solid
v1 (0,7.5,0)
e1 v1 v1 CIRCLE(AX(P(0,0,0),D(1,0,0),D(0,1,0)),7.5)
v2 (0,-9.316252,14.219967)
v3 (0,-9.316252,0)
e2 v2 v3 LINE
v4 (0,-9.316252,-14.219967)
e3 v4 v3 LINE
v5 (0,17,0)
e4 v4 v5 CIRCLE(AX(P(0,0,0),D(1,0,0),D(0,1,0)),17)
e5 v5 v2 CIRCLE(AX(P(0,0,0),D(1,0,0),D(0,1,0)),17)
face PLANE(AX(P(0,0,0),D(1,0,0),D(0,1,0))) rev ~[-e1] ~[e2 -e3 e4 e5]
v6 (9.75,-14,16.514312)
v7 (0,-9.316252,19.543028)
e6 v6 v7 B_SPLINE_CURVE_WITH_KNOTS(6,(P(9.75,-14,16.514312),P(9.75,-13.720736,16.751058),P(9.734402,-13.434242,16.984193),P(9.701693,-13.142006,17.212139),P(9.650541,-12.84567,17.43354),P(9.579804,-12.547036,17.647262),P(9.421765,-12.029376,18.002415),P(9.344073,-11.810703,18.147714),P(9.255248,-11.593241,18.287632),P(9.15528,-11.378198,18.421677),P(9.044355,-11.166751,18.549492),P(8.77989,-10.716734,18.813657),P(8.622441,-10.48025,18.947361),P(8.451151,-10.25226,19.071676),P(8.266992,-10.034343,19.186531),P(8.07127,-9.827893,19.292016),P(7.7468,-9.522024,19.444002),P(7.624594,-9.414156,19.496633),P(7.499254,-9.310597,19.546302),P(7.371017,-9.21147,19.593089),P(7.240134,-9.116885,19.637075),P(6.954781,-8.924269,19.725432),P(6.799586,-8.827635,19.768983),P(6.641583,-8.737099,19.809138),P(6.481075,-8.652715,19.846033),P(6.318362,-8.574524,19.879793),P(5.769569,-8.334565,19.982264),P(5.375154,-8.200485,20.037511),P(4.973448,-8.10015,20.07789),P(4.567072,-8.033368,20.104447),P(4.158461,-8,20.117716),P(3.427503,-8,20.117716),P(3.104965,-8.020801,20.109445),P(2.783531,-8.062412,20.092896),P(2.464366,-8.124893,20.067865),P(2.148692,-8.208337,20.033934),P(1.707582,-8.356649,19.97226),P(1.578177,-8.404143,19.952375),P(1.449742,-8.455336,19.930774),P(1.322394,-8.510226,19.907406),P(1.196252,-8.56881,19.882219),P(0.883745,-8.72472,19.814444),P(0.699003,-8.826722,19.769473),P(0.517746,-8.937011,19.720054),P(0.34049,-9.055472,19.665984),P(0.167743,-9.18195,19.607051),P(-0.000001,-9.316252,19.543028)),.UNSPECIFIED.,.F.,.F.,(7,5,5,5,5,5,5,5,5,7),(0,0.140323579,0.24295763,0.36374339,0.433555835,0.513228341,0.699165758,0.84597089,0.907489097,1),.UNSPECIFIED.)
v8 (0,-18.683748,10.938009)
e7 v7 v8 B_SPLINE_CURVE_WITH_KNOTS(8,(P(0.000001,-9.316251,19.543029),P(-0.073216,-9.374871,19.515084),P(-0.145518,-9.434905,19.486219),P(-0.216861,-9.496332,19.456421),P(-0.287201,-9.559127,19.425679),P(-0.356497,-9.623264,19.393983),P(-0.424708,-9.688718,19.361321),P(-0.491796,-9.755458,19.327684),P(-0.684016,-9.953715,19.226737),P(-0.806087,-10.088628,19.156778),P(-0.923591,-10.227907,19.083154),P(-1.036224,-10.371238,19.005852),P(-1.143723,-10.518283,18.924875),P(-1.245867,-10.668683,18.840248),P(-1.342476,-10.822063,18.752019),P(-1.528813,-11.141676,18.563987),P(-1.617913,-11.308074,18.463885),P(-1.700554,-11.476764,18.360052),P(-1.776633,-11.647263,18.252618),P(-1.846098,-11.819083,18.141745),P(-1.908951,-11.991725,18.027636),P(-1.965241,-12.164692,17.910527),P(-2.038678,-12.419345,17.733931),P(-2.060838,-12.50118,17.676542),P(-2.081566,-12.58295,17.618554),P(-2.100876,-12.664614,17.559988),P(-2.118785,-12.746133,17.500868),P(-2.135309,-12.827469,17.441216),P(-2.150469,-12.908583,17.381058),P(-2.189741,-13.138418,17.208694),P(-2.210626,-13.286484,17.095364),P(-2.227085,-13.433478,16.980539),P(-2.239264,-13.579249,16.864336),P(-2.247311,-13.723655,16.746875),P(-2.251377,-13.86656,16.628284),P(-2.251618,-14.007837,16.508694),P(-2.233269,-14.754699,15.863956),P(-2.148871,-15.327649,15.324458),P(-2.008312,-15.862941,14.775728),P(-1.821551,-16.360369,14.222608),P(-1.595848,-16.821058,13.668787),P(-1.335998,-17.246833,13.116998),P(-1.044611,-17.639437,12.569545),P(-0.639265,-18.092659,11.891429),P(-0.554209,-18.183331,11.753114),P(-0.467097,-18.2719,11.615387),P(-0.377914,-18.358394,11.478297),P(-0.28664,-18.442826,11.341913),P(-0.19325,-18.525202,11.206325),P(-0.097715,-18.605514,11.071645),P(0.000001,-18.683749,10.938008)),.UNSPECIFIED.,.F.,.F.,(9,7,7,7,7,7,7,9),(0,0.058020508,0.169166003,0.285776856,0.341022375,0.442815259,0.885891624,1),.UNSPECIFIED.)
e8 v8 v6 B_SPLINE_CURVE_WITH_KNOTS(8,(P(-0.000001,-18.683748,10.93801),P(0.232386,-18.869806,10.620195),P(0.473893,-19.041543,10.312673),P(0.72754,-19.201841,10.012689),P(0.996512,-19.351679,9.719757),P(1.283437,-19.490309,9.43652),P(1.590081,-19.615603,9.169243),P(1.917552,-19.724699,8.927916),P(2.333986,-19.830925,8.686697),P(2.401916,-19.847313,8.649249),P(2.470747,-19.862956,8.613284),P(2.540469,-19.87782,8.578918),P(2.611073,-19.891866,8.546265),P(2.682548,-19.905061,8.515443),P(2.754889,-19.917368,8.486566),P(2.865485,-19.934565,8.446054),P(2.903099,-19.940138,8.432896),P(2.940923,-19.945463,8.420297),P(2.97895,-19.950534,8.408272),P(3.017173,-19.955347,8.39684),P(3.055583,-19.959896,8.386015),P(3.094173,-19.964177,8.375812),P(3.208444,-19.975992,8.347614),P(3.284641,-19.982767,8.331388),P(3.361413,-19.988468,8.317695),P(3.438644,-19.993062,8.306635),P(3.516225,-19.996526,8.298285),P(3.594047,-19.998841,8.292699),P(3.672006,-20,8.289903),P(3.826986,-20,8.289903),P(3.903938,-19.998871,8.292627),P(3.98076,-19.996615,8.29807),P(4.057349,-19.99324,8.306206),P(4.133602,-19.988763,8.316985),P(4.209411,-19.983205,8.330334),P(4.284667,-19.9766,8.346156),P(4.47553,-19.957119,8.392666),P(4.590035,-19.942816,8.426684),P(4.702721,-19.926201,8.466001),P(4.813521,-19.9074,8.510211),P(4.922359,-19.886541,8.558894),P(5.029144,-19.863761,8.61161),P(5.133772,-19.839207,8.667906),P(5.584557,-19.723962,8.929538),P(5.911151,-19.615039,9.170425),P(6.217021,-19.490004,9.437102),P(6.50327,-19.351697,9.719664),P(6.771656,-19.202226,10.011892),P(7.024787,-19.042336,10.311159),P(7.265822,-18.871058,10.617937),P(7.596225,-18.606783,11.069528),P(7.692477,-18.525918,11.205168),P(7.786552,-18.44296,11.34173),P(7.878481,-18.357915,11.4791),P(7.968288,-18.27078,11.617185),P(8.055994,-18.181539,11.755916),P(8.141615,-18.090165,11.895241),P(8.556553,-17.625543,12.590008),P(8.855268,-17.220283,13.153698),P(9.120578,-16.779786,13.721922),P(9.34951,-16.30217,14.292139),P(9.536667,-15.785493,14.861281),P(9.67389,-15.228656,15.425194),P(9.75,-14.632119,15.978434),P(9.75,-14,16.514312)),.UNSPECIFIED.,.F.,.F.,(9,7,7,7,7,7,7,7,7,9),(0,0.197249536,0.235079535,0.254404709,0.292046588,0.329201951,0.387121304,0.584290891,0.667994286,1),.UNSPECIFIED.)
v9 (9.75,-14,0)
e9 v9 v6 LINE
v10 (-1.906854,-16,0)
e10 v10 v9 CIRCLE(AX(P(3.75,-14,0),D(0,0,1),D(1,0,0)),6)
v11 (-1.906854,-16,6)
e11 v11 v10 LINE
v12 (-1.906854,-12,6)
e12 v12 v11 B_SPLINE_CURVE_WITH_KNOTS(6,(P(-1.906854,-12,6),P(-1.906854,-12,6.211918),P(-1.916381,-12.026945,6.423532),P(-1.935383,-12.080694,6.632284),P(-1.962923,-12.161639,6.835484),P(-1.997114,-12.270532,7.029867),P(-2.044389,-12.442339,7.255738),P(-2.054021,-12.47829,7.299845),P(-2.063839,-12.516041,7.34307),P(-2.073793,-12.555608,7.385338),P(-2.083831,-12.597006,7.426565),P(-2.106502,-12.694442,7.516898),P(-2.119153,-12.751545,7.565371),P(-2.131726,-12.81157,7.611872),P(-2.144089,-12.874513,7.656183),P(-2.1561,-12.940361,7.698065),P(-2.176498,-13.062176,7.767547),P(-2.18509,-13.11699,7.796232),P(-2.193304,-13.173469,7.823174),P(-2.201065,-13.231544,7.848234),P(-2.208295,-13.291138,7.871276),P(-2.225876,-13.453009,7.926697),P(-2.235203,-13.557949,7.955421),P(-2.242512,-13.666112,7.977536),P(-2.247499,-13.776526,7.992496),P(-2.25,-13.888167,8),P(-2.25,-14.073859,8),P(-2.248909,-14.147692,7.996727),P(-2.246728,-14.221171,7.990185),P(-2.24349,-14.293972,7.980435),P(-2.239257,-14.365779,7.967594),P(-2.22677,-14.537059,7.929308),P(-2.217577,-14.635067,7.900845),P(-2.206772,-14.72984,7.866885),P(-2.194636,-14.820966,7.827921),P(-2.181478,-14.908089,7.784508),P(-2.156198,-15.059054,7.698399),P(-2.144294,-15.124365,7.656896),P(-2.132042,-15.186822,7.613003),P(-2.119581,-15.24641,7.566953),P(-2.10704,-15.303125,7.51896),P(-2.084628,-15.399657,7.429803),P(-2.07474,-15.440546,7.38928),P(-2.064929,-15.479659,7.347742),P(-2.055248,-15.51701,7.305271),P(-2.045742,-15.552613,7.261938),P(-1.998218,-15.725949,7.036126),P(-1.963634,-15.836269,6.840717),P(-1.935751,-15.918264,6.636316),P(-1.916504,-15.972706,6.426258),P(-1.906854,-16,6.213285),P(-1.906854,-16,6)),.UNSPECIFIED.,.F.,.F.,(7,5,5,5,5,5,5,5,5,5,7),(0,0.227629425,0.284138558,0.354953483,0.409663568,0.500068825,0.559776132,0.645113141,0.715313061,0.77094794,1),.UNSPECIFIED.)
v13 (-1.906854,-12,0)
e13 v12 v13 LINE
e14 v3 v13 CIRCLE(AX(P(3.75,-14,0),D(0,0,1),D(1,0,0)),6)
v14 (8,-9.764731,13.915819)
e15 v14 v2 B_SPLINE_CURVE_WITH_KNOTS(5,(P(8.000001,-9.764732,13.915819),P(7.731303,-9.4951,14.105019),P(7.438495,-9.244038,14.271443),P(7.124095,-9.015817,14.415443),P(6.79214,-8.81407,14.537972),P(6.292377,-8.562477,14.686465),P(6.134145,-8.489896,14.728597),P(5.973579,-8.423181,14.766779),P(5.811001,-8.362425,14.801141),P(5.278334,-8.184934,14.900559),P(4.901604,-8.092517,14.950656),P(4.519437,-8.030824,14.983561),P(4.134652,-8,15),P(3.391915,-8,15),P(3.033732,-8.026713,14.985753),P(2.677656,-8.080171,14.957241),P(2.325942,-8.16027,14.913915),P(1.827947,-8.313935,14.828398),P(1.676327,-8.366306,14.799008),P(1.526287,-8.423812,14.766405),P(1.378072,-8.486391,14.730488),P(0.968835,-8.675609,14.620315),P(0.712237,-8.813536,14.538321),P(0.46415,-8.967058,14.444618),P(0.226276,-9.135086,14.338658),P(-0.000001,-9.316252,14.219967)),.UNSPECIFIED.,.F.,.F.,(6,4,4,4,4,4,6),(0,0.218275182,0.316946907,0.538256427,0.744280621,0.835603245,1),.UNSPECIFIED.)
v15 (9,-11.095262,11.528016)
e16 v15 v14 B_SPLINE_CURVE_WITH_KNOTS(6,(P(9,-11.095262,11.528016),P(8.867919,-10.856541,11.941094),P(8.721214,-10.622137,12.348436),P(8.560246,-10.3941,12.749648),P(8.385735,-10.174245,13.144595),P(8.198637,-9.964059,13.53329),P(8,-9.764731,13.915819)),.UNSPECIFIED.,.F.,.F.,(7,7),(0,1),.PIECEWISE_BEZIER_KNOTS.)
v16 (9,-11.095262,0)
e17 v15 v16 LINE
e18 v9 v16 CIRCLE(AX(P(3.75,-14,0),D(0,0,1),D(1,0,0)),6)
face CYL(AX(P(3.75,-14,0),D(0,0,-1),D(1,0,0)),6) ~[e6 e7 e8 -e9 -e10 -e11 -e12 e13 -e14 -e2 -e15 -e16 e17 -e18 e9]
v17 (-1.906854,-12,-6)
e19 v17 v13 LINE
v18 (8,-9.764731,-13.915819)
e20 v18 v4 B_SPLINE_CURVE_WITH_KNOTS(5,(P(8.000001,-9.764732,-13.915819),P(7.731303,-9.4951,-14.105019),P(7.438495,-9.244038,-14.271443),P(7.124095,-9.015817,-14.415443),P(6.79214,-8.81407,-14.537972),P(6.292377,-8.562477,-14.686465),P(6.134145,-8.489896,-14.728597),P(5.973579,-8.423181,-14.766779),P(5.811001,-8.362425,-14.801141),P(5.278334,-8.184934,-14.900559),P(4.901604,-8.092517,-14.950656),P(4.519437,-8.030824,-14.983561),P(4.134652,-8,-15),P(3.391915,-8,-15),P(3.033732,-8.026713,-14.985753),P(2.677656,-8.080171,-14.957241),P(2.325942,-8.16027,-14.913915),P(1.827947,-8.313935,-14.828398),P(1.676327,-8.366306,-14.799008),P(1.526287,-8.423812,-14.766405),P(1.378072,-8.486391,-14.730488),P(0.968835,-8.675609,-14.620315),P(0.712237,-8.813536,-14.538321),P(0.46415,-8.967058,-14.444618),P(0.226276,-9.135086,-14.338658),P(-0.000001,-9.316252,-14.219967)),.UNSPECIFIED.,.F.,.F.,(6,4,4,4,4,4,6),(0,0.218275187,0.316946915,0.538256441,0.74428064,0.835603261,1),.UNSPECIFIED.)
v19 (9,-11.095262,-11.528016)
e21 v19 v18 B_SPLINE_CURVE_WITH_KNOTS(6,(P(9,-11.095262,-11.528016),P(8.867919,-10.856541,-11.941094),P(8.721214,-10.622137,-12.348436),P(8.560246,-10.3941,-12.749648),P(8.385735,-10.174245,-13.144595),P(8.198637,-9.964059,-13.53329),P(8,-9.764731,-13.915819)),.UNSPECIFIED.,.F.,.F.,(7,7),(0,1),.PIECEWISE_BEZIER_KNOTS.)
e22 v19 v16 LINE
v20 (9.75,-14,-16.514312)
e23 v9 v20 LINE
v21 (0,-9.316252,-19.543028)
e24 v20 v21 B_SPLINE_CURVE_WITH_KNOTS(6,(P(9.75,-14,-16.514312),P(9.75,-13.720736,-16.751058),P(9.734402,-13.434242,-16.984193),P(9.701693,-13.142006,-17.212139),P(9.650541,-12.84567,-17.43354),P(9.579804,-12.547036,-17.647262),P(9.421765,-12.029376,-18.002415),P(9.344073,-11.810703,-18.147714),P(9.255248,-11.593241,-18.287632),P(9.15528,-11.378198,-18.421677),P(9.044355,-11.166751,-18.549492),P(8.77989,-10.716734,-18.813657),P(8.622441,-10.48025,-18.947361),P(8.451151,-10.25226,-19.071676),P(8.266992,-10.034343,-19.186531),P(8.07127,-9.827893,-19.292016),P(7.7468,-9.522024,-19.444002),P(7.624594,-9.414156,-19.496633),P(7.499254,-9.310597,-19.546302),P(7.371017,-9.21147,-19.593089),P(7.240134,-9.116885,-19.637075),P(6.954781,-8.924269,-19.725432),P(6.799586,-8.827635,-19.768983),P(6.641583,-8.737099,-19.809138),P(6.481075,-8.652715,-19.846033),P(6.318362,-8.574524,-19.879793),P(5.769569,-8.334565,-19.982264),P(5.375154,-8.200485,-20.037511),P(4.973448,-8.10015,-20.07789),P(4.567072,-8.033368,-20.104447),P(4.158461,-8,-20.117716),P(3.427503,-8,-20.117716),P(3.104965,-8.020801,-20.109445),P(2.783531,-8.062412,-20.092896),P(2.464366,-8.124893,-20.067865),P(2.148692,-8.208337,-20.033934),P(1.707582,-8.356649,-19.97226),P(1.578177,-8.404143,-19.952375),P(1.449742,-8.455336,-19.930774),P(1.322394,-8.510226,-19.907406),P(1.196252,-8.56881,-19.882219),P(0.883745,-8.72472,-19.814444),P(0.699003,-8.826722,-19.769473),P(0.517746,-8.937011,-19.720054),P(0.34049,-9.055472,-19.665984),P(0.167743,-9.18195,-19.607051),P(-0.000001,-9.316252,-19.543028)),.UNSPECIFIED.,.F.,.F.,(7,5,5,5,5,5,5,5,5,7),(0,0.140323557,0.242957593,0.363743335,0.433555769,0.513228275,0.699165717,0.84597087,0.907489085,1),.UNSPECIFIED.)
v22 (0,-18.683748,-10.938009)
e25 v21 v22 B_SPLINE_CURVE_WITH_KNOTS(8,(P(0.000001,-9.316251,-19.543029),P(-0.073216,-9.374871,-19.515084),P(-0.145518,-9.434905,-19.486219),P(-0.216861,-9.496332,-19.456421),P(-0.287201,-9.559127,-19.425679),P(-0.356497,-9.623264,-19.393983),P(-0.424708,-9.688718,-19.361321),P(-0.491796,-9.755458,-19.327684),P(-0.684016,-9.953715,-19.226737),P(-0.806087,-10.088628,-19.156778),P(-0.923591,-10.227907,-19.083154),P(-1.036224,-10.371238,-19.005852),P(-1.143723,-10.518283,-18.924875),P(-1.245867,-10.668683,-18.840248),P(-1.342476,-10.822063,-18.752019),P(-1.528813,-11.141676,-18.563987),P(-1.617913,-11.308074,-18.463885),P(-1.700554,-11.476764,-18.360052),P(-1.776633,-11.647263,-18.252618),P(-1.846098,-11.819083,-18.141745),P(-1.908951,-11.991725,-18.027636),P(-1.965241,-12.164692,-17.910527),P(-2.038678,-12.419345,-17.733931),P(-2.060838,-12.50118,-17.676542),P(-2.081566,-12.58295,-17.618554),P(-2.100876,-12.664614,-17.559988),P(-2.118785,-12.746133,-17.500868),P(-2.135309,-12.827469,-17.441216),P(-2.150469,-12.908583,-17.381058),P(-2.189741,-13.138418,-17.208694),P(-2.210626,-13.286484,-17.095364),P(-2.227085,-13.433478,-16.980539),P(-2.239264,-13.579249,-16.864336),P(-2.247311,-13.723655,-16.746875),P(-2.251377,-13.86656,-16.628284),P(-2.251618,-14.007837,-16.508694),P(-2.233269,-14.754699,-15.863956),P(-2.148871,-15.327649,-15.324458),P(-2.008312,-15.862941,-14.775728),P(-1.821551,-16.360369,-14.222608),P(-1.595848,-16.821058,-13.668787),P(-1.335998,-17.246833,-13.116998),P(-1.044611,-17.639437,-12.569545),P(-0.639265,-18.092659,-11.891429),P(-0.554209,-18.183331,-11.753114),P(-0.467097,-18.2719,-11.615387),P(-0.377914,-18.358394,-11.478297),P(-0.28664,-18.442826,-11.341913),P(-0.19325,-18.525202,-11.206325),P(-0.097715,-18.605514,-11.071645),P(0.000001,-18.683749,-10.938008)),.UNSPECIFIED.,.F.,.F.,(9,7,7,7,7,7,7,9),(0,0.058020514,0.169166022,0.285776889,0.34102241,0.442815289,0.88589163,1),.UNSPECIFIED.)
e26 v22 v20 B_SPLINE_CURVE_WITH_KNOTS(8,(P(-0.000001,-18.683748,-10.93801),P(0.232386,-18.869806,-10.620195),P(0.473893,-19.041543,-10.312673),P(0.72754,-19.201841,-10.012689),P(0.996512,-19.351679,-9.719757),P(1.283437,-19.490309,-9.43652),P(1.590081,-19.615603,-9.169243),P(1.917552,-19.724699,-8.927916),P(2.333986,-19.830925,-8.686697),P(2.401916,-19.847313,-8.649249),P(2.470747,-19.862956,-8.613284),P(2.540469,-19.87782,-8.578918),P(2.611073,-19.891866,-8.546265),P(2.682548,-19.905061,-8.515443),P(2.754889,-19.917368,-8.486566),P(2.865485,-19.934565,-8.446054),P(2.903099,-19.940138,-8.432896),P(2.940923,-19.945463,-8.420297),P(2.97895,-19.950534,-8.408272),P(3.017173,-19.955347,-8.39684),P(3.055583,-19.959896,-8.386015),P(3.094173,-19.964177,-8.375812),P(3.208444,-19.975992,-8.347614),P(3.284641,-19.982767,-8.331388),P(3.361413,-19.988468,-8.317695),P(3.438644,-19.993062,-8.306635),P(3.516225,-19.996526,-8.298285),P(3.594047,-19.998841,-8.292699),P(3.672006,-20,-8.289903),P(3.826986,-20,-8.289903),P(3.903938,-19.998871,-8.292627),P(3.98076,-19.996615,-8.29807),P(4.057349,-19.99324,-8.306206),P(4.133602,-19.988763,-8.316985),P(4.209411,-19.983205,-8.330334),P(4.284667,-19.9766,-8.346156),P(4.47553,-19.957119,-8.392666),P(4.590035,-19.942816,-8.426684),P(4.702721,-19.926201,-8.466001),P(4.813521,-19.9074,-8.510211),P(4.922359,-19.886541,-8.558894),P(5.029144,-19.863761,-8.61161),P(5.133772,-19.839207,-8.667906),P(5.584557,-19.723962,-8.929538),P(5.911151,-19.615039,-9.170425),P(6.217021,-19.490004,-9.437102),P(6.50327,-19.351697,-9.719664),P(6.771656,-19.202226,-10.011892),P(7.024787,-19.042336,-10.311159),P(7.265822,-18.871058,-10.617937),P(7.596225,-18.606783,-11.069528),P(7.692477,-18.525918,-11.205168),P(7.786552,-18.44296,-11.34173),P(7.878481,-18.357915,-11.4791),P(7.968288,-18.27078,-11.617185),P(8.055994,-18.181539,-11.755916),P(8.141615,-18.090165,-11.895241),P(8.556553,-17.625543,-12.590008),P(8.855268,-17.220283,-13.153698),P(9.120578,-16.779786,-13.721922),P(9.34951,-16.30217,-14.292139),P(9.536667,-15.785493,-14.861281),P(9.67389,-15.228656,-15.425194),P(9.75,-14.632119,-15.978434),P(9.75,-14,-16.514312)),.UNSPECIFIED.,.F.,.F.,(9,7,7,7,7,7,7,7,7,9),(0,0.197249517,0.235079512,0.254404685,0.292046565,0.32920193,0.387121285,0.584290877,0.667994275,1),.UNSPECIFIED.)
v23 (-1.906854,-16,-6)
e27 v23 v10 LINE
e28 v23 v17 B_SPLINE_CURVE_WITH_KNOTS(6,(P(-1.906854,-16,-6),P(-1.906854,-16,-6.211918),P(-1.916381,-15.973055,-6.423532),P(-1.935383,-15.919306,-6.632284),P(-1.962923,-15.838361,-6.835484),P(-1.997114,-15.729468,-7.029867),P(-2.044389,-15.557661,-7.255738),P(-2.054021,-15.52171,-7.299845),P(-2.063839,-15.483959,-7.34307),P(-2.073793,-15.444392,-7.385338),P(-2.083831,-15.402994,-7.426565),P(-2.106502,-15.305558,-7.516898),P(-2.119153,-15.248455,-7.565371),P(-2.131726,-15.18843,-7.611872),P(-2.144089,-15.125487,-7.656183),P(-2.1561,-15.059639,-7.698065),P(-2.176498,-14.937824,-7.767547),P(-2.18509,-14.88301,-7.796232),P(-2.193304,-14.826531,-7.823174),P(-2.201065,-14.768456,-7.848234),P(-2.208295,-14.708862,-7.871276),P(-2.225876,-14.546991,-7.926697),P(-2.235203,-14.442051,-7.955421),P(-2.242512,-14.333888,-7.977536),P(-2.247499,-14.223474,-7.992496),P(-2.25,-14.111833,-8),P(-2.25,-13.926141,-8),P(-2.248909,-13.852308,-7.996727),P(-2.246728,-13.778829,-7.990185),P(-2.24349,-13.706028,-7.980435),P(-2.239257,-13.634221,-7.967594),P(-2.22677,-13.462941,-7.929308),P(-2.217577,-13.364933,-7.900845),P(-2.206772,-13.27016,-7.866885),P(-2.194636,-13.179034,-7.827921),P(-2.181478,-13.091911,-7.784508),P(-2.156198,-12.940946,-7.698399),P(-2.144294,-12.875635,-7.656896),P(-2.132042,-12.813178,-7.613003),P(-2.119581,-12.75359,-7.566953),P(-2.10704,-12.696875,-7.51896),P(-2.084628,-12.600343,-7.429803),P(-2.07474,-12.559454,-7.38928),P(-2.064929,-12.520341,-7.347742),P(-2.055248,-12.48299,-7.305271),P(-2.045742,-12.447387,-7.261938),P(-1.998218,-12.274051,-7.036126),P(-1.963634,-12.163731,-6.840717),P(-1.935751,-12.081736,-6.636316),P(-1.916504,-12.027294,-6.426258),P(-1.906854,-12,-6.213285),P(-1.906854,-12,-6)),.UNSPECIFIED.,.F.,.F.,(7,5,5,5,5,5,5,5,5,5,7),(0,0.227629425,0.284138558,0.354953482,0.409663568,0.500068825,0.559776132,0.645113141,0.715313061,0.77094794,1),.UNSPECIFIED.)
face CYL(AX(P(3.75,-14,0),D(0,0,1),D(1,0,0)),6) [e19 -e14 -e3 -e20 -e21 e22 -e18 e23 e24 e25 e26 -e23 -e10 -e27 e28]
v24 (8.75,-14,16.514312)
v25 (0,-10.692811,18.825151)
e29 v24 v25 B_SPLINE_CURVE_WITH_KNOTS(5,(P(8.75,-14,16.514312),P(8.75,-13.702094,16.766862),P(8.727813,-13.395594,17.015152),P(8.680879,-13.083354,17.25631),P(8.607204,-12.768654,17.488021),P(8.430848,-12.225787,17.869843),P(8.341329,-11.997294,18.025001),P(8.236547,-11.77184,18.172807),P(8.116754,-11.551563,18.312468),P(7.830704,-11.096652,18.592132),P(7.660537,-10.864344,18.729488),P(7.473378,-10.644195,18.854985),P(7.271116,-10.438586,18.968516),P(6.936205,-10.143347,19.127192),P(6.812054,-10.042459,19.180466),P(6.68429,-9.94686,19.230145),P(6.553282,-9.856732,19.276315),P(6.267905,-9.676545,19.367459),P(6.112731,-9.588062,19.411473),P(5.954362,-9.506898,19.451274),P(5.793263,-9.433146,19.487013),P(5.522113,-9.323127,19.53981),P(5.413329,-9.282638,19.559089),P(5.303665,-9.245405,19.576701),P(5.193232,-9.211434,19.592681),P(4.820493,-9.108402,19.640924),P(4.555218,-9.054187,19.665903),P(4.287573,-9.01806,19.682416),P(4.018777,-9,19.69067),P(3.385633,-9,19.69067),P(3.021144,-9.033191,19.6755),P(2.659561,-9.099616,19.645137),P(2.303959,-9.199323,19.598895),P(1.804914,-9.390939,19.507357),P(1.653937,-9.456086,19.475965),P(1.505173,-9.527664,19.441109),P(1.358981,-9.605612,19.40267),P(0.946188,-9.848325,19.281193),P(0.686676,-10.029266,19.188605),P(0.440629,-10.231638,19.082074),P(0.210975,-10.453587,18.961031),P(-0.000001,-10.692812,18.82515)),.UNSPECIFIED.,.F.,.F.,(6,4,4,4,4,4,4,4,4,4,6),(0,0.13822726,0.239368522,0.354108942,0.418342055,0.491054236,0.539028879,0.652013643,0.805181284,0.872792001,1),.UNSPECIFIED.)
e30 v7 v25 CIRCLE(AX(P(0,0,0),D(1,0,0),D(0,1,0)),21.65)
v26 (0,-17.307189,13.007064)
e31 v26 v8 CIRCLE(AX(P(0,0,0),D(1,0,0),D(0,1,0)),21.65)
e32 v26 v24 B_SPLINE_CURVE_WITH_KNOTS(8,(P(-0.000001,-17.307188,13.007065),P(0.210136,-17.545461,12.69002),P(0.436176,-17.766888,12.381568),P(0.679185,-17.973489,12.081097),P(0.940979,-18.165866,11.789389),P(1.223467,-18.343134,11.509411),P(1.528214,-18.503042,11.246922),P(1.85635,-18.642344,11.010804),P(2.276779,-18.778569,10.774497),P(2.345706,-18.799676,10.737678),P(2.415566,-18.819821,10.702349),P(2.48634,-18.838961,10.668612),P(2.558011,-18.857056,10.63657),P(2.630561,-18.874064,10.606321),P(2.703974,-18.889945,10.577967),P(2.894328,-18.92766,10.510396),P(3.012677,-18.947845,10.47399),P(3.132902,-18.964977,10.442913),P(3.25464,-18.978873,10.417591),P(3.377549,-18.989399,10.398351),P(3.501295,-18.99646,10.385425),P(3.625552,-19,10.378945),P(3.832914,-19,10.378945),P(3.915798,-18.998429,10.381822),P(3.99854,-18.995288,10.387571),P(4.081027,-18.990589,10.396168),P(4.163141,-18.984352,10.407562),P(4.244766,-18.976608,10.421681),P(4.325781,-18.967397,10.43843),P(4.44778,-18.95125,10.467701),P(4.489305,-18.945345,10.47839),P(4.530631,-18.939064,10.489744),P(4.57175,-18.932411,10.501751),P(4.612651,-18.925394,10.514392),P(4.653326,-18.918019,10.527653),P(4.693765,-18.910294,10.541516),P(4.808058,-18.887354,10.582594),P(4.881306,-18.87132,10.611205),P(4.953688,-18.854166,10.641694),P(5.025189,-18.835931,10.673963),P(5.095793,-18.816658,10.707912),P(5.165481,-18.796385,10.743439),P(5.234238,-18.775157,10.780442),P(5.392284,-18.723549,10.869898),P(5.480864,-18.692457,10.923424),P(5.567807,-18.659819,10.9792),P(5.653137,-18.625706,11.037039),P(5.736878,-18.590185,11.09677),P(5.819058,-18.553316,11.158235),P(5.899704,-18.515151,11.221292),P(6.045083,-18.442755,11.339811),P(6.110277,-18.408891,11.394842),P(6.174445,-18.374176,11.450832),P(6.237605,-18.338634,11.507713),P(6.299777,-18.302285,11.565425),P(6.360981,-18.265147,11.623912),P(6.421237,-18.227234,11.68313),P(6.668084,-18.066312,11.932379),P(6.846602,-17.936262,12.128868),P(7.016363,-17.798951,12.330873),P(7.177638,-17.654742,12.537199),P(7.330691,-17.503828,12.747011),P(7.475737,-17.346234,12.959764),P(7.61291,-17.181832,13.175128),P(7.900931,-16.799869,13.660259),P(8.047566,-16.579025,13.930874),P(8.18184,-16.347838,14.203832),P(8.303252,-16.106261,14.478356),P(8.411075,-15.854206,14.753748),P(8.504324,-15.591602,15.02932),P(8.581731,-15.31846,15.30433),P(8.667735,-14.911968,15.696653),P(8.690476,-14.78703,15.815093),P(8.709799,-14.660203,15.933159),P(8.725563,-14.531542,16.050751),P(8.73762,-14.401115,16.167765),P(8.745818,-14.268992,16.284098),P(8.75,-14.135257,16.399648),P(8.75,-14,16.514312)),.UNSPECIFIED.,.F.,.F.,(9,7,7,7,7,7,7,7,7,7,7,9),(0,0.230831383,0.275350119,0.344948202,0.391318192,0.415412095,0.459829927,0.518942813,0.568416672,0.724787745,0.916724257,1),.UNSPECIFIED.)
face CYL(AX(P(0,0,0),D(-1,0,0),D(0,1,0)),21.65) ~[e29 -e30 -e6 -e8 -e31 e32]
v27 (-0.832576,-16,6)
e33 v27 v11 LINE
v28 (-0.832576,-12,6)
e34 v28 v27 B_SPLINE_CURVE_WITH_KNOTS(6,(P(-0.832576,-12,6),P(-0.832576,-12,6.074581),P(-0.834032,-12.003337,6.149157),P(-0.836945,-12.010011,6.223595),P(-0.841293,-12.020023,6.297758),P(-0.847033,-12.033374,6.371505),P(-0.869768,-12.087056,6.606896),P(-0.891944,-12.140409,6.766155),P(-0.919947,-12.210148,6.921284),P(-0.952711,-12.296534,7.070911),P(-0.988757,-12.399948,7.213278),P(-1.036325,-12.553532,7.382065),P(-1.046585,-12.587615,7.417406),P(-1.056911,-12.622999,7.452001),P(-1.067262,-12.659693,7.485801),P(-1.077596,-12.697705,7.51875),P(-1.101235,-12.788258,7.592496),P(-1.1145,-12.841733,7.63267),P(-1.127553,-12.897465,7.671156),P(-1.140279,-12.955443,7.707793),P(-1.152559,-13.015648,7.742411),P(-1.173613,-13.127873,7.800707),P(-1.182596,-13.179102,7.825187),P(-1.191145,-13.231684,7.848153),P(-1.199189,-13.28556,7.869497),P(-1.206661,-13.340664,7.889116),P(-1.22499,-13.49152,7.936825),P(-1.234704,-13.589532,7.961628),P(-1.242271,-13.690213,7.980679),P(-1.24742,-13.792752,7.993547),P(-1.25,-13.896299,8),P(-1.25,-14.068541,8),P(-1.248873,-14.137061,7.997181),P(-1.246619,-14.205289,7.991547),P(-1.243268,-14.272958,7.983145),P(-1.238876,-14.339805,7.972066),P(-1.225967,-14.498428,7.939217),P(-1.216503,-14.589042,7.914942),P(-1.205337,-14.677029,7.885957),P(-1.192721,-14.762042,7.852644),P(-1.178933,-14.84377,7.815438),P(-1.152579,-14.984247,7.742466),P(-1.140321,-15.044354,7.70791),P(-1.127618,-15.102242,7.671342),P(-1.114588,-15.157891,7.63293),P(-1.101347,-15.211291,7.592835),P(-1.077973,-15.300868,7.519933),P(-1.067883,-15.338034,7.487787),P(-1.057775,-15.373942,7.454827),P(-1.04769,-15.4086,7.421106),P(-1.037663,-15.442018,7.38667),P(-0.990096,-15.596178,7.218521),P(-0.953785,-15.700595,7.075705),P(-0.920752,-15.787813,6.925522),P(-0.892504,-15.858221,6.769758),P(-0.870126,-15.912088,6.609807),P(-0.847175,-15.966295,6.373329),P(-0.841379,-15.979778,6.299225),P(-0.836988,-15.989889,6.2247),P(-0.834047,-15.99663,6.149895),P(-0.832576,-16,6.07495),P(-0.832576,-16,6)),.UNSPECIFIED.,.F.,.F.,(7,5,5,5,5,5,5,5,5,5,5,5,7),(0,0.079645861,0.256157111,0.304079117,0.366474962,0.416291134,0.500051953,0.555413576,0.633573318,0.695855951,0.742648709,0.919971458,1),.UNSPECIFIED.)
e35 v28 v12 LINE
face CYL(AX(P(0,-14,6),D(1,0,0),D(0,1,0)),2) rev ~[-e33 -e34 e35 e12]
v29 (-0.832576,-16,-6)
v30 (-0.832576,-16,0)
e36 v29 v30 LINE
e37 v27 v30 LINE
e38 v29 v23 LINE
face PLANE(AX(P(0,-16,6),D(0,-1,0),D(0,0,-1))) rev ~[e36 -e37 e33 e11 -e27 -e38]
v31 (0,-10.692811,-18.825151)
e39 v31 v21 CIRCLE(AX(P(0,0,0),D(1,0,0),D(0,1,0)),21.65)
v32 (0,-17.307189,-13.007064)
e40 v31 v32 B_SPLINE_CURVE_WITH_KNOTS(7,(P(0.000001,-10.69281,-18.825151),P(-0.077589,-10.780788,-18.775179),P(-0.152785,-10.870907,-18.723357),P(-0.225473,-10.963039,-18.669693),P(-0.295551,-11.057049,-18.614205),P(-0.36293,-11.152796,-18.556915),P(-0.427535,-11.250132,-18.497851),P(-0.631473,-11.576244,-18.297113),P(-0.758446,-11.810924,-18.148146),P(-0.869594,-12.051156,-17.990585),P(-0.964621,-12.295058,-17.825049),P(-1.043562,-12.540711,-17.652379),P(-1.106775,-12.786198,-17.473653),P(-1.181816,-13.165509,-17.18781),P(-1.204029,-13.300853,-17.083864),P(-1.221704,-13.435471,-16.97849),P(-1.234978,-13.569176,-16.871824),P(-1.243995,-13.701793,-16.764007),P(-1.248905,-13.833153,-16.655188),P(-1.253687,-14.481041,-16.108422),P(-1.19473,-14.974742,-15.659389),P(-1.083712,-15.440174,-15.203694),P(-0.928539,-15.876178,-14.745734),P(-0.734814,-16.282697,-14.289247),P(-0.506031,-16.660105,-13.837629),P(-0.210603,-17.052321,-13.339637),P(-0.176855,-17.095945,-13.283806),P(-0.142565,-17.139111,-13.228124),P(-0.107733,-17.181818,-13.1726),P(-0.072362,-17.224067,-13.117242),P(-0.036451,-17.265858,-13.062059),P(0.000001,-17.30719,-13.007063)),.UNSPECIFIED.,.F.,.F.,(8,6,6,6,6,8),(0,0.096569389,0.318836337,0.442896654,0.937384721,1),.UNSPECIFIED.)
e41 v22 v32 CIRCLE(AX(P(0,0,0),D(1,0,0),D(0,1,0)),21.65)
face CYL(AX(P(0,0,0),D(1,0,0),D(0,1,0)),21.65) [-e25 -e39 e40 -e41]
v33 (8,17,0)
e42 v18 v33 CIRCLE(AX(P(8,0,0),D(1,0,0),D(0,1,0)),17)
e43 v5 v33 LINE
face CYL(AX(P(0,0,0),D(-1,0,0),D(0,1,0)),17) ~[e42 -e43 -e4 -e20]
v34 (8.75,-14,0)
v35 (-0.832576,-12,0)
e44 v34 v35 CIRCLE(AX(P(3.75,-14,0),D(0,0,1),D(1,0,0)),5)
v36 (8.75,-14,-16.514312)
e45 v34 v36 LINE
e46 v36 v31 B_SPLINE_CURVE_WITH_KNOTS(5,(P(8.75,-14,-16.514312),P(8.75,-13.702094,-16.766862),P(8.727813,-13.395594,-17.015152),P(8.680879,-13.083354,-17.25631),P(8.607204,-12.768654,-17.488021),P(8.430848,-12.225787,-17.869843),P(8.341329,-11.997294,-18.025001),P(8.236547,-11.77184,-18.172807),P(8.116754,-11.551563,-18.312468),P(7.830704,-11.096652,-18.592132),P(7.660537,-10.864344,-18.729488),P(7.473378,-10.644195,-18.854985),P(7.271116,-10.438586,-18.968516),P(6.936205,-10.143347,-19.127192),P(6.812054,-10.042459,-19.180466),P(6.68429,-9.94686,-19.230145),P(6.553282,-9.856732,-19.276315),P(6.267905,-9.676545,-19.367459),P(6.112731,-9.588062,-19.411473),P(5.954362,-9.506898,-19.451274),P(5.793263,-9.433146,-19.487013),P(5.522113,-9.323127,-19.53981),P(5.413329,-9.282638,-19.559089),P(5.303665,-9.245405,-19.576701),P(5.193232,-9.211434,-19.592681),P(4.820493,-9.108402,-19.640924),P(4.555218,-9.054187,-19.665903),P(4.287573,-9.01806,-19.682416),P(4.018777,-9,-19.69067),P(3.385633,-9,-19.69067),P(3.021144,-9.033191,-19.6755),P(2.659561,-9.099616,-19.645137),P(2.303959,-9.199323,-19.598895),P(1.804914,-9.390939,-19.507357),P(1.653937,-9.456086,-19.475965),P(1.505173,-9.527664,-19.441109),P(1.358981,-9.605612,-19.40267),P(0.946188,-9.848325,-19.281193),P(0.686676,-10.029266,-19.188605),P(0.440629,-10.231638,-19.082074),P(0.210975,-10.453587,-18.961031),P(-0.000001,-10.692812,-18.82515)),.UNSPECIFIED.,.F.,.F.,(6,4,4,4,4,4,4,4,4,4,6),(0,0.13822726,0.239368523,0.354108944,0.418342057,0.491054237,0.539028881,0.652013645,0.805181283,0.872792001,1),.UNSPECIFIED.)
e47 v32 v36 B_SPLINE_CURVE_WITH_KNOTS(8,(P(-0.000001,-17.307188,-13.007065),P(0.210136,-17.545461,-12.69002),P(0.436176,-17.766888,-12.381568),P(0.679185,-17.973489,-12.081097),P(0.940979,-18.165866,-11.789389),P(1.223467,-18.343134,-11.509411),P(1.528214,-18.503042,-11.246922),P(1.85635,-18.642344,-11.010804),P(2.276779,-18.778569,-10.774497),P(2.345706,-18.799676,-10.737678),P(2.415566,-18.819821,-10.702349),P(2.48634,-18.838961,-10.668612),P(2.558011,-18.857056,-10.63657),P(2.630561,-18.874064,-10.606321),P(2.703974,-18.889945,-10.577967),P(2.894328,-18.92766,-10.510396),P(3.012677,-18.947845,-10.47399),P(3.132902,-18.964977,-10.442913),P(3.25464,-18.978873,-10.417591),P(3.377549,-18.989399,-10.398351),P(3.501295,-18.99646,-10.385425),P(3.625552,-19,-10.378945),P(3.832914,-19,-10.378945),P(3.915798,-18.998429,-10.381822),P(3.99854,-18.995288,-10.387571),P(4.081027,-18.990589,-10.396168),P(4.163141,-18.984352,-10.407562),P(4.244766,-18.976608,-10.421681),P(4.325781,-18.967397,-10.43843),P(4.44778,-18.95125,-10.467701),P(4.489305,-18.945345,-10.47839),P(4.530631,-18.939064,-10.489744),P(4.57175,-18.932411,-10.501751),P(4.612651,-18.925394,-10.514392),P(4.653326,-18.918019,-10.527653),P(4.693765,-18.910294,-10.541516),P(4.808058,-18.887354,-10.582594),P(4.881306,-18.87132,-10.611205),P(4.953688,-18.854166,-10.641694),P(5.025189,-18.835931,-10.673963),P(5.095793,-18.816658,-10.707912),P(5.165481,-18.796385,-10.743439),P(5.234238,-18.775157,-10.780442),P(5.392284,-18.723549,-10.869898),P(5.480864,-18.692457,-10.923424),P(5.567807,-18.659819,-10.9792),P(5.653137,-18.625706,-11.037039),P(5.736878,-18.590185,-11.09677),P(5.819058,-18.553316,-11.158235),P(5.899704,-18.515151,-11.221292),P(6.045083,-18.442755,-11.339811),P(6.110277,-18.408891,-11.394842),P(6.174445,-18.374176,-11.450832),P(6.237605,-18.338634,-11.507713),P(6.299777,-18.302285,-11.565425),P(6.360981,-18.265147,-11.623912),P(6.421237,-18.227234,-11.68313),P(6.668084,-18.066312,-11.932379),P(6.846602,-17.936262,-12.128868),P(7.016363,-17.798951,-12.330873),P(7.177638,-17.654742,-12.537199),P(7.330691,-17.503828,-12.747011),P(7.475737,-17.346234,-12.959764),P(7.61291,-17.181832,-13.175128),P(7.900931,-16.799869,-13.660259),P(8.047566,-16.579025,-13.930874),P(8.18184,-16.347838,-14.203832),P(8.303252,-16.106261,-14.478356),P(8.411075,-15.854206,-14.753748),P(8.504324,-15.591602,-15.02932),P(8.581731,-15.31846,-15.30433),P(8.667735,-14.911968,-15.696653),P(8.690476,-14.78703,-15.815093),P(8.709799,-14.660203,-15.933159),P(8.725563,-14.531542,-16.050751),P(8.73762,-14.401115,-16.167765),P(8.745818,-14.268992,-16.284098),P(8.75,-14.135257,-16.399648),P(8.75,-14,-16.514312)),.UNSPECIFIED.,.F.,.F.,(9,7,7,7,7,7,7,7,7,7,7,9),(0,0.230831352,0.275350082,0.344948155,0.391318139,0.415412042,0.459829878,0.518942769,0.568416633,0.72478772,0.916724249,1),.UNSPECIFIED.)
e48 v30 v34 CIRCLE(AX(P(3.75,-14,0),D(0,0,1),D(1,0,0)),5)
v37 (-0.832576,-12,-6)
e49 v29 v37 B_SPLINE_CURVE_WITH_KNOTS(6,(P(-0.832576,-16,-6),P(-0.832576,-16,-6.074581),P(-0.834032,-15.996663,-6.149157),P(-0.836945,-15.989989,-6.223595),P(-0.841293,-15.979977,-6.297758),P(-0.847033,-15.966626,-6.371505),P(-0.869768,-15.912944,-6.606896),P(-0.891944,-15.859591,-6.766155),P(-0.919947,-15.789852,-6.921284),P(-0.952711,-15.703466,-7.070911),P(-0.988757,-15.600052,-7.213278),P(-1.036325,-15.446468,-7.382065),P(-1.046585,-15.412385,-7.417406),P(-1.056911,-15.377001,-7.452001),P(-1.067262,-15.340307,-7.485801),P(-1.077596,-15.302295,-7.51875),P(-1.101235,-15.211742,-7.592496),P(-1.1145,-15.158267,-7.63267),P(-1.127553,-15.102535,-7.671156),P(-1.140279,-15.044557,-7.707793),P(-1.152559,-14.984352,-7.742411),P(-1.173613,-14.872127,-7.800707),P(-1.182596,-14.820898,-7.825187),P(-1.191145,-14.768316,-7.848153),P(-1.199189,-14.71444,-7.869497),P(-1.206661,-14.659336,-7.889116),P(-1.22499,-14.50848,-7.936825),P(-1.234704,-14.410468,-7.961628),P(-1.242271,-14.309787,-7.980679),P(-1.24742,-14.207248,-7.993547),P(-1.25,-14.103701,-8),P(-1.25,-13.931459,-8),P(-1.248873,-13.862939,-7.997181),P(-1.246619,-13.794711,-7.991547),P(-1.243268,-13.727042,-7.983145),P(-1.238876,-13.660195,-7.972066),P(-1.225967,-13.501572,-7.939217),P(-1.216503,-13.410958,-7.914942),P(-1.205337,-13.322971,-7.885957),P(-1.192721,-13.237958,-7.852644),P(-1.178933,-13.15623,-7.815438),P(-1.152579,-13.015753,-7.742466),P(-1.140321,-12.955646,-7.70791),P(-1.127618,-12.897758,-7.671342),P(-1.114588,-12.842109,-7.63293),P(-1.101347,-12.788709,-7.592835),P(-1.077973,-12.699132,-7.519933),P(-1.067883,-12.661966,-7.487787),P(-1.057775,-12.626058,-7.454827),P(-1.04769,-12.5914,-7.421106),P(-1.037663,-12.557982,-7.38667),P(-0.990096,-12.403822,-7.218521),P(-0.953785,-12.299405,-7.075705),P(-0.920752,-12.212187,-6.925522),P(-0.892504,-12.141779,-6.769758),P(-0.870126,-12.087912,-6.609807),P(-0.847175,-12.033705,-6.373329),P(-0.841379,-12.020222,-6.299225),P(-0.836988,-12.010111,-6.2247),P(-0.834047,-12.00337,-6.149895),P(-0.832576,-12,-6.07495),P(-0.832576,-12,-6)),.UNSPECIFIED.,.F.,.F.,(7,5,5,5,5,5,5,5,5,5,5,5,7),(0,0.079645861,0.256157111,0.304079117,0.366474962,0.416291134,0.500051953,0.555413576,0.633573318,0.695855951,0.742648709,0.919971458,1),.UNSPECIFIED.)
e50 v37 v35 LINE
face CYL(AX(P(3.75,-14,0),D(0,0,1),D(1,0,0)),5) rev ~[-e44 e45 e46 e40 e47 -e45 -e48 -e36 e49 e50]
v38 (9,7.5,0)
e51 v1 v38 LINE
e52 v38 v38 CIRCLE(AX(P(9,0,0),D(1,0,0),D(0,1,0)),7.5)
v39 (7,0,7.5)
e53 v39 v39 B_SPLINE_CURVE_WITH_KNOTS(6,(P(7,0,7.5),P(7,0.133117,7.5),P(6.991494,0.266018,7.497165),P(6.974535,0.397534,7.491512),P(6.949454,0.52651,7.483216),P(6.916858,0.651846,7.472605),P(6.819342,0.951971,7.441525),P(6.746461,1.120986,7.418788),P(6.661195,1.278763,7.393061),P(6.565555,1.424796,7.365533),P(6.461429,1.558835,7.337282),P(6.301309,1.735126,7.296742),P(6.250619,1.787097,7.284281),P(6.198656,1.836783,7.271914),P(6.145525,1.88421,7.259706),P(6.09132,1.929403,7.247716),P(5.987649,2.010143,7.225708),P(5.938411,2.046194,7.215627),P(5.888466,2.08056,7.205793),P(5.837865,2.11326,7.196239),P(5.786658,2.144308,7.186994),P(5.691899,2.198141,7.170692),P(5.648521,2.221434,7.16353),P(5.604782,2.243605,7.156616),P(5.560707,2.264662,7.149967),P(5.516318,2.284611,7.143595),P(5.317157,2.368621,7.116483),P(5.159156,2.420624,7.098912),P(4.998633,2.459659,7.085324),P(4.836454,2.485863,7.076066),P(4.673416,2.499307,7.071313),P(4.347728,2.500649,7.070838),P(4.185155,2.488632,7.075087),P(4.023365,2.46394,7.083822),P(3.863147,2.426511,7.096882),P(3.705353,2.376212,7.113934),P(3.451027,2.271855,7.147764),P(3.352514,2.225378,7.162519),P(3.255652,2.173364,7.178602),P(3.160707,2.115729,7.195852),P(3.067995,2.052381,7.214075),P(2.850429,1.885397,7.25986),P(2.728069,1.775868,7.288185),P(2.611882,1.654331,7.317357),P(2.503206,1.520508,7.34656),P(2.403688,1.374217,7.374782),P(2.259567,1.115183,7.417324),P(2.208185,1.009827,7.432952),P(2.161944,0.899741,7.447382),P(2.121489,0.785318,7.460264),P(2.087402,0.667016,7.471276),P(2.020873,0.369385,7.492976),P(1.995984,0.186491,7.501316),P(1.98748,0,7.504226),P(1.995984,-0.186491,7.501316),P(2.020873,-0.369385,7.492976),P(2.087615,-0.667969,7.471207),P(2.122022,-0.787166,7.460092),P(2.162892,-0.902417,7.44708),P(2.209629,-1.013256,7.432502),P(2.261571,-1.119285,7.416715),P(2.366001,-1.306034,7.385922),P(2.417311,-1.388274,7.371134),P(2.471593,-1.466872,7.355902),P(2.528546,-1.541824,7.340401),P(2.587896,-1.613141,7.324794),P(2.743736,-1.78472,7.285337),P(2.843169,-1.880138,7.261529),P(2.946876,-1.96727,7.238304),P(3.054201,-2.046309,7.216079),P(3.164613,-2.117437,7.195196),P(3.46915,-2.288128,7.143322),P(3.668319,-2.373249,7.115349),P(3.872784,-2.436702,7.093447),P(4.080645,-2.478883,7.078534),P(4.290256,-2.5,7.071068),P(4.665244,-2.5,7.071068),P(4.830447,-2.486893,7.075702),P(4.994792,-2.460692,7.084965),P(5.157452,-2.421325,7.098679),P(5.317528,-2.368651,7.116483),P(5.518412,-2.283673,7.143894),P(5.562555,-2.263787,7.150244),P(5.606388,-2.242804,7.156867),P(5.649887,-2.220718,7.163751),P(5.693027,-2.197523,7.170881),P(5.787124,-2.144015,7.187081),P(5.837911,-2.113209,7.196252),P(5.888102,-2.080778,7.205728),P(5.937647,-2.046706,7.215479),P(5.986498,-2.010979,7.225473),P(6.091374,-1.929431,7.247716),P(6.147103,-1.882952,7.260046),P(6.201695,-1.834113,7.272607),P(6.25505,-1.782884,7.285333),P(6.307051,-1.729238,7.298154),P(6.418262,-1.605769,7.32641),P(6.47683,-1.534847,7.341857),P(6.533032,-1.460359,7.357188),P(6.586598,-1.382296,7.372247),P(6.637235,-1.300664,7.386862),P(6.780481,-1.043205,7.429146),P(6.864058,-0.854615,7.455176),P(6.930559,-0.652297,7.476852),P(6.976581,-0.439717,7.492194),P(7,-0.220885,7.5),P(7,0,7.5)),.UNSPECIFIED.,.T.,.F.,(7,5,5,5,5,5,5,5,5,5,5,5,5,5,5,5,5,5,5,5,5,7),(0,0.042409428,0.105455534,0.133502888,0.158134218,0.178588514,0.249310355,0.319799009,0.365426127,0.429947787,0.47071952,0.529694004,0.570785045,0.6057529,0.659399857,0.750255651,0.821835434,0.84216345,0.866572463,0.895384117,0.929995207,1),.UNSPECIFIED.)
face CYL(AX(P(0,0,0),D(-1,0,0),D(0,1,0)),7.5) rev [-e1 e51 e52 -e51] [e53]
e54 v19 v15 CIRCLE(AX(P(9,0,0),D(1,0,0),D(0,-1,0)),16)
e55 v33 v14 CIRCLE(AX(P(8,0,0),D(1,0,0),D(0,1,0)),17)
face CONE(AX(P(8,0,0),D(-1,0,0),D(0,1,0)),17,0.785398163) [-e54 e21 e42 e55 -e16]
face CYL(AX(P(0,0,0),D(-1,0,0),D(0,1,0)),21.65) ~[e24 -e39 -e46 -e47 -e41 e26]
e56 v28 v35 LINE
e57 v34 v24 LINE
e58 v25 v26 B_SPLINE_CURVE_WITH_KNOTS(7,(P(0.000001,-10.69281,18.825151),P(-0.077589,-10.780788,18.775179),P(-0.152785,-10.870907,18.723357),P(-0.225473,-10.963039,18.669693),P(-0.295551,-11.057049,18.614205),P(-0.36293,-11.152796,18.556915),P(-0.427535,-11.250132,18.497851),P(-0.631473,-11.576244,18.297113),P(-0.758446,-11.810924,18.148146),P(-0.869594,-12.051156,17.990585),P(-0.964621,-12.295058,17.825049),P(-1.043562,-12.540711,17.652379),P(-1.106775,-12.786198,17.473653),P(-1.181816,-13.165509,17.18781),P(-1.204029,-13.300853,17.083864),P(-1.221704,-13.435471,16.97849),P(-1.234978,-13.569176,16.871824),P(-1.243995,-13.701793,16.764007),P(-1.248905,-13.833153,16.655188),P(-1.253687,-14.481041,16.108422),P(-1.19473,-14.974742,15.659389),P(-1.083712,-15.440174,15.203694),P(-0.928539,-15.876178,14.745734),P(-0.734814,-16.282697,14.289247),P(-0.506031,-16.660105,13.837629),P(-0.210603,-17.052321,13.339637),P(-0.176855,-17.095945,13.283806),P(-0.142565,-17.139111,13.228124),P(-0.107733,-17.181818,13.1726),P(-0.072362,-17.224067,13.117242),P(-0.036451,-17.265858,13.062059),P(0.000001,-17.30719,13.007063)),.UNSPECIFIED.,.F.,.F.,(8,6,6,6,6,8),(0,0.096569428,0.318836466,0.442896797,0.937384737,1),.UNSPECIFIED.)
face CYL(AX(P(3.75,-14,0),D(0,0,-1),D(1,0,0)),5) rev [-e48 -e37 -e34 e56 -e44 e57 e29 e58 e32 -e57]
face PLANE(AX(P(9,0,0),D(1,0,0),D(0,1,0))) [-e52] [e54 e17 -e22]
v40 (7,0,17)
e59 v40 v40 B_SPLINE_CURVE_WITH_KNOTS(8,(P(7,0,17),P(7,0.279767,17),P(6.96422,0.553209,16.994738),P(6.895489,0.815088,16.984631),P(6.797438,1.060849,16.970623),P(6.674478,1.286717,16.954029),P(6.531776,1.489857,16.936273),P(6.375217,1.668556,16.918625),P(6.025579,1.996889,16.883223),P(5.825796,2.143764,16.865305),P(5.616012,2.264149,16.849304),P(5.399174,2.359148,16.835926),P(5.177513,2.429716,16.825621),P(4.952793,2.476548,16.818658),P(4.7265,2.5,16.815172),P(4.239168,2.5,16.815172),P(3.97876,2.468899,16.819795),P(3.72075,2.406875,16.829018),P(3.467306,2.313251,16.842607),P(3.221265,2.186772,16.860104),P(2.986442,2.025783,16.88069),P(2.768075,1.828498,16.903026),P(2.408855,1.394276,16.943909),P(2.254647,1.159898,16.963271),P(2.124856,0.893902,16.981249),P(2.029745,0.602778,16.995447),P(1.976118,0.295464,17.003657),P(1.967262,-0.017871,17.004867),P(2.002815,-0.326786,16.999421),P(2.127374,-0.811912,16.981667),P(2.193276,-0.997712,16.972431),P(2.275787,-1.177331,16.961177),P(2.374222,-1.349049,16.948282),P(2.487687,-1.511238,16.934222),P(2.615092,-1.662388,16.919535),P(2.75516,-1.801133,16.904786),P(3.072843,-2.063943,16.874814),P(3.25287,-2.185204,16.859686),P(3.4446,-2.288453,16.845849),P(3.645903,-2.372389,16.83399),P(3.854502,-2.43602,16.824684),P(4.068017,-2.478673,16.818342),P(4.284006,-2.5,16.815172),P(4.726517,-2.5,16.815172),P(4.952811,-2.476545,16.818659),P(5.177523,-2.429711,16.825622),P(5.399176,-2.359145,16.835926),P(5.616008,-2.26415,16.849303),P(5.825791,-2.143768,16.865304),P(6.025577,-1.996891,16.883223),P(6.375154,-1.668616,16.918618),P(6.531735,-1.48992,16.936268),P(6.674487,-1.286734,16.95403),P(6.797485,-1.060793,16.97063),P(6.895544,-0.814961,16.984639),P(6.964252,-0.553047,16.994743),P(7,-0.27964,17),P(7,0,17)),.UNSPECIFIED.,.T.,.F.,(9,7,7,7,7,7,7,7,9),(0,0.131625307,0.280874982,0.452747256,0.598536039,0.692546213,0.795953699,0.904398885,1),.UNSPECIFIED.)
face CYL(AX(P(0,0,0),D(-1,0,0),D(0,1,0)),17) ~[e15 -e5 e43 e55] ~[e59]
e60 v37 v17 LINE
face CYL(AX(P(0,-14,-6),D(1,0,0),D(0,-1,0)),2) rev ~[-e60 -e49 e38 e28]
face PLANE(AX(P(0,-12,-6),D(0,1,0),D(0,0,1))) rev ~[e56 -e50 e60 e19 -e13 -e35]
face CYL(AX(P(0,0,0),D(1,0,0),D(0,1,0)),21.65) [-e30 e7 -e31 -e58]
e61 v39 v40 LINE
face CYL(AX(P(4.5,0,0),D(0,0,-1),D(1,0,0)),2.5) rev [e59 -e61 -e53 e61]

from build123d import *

# Parameters (mm, degrees)
F0_R           = 17
F0_R_2         = 7.5
F1_DEPTH       = 9
F3_SIZE        = 1
F2_R           = 2.5
F4_DEPTH       = 25
F5_R           = 6
F6_DEPTH       = 25
F6_DEPTH_BACK  = 25
F7_R           = 36.9830222821
F7_R_2         = 21.65
F8_DEPTH       = 25
F8_DEPTH_BACK  = 25
F9_R           = 5
F10_DEPTH      = 25
F10_DEPTH_BACK = 25
F12_DEPTH      = 25


with BuildPart() as f1:
    # F0 (on Right) → F1 (new body)
    with BuildSketch(Plane.YZ):
        Circle(F0_R)
        Circle(F0_R_2, mode=Mode.SUBTRACT)
    extrude(amount=F1_DEPTH)

    # F3
    f3_edges = [f1.edges().sort_by_distance(p)[0] for p in [
        (9, -17, 0),
    ]]
    chamfer(f3_edges, length=F3_SIZE)

    # F2 (on Top) → F4 (cut)
    with BuildSketch(Plane.XY):
        with Locations((4.5, 0)):
            Circle(F2_R)
    extrude(amount=F4_DEPTH, mode=Mode.SUBTRACT)

    # F5 (on Top) → F6 (join, two sides)
    with BuildSketch(Plane.XY) as f6_sk:
        with Locations((3.75, -14)):
            Circle(F5_R)
    extrude(amount=F6_DEPTH)
    extrude(f6_sk.sketch, amount=-F6_DEPTH_BACK)

    # F7 (on Right) → F8 (cut, two sides)
    with BuildSketch(Plane.YZ) as f8_sk:
        Circle(F7_R)
        Circle(F7_R_2, mode=Mode.SUBTRACT)
    extrude(amount=F8_DEPTH, mode=Mode.SUBTRACT)
    extrude(f8_sk.sketch, amount=-F8_DEPTH_BACK, mode=Mode.SUBTRACT)

    # F9 (on Top) → F10 (cut, two sides)
    with BuildSketch(Plane.XY) as f10_sk:
        with Locations((3.75, -14)):
            Circle(F9_R)
    extrude(amount=-F10_DEPTH, mode=Mode.SUBTRACT)
    extrude(f10_sk.sketch, amount=F10_DEPTH_BACK, mode=Mode.SUBTRACT)

    # F11 (on Right) → F12 (cut)
    with BuildSketch(Plane.YZ):
        with BuildLine():
            Line((-12, -6), (-12, 6))
            ThreePointArc((-12, 6), (-14, 8), (-16, 6))
            Line((-16, 6), (-16, -6))
            ThreePointArc((-16, -6), (-14, -8), (-12, -6))
        make_face()
    extrude(amount=-F12_DEPTH, mode=Mode.SUBTRACT)


solid = f1.part
